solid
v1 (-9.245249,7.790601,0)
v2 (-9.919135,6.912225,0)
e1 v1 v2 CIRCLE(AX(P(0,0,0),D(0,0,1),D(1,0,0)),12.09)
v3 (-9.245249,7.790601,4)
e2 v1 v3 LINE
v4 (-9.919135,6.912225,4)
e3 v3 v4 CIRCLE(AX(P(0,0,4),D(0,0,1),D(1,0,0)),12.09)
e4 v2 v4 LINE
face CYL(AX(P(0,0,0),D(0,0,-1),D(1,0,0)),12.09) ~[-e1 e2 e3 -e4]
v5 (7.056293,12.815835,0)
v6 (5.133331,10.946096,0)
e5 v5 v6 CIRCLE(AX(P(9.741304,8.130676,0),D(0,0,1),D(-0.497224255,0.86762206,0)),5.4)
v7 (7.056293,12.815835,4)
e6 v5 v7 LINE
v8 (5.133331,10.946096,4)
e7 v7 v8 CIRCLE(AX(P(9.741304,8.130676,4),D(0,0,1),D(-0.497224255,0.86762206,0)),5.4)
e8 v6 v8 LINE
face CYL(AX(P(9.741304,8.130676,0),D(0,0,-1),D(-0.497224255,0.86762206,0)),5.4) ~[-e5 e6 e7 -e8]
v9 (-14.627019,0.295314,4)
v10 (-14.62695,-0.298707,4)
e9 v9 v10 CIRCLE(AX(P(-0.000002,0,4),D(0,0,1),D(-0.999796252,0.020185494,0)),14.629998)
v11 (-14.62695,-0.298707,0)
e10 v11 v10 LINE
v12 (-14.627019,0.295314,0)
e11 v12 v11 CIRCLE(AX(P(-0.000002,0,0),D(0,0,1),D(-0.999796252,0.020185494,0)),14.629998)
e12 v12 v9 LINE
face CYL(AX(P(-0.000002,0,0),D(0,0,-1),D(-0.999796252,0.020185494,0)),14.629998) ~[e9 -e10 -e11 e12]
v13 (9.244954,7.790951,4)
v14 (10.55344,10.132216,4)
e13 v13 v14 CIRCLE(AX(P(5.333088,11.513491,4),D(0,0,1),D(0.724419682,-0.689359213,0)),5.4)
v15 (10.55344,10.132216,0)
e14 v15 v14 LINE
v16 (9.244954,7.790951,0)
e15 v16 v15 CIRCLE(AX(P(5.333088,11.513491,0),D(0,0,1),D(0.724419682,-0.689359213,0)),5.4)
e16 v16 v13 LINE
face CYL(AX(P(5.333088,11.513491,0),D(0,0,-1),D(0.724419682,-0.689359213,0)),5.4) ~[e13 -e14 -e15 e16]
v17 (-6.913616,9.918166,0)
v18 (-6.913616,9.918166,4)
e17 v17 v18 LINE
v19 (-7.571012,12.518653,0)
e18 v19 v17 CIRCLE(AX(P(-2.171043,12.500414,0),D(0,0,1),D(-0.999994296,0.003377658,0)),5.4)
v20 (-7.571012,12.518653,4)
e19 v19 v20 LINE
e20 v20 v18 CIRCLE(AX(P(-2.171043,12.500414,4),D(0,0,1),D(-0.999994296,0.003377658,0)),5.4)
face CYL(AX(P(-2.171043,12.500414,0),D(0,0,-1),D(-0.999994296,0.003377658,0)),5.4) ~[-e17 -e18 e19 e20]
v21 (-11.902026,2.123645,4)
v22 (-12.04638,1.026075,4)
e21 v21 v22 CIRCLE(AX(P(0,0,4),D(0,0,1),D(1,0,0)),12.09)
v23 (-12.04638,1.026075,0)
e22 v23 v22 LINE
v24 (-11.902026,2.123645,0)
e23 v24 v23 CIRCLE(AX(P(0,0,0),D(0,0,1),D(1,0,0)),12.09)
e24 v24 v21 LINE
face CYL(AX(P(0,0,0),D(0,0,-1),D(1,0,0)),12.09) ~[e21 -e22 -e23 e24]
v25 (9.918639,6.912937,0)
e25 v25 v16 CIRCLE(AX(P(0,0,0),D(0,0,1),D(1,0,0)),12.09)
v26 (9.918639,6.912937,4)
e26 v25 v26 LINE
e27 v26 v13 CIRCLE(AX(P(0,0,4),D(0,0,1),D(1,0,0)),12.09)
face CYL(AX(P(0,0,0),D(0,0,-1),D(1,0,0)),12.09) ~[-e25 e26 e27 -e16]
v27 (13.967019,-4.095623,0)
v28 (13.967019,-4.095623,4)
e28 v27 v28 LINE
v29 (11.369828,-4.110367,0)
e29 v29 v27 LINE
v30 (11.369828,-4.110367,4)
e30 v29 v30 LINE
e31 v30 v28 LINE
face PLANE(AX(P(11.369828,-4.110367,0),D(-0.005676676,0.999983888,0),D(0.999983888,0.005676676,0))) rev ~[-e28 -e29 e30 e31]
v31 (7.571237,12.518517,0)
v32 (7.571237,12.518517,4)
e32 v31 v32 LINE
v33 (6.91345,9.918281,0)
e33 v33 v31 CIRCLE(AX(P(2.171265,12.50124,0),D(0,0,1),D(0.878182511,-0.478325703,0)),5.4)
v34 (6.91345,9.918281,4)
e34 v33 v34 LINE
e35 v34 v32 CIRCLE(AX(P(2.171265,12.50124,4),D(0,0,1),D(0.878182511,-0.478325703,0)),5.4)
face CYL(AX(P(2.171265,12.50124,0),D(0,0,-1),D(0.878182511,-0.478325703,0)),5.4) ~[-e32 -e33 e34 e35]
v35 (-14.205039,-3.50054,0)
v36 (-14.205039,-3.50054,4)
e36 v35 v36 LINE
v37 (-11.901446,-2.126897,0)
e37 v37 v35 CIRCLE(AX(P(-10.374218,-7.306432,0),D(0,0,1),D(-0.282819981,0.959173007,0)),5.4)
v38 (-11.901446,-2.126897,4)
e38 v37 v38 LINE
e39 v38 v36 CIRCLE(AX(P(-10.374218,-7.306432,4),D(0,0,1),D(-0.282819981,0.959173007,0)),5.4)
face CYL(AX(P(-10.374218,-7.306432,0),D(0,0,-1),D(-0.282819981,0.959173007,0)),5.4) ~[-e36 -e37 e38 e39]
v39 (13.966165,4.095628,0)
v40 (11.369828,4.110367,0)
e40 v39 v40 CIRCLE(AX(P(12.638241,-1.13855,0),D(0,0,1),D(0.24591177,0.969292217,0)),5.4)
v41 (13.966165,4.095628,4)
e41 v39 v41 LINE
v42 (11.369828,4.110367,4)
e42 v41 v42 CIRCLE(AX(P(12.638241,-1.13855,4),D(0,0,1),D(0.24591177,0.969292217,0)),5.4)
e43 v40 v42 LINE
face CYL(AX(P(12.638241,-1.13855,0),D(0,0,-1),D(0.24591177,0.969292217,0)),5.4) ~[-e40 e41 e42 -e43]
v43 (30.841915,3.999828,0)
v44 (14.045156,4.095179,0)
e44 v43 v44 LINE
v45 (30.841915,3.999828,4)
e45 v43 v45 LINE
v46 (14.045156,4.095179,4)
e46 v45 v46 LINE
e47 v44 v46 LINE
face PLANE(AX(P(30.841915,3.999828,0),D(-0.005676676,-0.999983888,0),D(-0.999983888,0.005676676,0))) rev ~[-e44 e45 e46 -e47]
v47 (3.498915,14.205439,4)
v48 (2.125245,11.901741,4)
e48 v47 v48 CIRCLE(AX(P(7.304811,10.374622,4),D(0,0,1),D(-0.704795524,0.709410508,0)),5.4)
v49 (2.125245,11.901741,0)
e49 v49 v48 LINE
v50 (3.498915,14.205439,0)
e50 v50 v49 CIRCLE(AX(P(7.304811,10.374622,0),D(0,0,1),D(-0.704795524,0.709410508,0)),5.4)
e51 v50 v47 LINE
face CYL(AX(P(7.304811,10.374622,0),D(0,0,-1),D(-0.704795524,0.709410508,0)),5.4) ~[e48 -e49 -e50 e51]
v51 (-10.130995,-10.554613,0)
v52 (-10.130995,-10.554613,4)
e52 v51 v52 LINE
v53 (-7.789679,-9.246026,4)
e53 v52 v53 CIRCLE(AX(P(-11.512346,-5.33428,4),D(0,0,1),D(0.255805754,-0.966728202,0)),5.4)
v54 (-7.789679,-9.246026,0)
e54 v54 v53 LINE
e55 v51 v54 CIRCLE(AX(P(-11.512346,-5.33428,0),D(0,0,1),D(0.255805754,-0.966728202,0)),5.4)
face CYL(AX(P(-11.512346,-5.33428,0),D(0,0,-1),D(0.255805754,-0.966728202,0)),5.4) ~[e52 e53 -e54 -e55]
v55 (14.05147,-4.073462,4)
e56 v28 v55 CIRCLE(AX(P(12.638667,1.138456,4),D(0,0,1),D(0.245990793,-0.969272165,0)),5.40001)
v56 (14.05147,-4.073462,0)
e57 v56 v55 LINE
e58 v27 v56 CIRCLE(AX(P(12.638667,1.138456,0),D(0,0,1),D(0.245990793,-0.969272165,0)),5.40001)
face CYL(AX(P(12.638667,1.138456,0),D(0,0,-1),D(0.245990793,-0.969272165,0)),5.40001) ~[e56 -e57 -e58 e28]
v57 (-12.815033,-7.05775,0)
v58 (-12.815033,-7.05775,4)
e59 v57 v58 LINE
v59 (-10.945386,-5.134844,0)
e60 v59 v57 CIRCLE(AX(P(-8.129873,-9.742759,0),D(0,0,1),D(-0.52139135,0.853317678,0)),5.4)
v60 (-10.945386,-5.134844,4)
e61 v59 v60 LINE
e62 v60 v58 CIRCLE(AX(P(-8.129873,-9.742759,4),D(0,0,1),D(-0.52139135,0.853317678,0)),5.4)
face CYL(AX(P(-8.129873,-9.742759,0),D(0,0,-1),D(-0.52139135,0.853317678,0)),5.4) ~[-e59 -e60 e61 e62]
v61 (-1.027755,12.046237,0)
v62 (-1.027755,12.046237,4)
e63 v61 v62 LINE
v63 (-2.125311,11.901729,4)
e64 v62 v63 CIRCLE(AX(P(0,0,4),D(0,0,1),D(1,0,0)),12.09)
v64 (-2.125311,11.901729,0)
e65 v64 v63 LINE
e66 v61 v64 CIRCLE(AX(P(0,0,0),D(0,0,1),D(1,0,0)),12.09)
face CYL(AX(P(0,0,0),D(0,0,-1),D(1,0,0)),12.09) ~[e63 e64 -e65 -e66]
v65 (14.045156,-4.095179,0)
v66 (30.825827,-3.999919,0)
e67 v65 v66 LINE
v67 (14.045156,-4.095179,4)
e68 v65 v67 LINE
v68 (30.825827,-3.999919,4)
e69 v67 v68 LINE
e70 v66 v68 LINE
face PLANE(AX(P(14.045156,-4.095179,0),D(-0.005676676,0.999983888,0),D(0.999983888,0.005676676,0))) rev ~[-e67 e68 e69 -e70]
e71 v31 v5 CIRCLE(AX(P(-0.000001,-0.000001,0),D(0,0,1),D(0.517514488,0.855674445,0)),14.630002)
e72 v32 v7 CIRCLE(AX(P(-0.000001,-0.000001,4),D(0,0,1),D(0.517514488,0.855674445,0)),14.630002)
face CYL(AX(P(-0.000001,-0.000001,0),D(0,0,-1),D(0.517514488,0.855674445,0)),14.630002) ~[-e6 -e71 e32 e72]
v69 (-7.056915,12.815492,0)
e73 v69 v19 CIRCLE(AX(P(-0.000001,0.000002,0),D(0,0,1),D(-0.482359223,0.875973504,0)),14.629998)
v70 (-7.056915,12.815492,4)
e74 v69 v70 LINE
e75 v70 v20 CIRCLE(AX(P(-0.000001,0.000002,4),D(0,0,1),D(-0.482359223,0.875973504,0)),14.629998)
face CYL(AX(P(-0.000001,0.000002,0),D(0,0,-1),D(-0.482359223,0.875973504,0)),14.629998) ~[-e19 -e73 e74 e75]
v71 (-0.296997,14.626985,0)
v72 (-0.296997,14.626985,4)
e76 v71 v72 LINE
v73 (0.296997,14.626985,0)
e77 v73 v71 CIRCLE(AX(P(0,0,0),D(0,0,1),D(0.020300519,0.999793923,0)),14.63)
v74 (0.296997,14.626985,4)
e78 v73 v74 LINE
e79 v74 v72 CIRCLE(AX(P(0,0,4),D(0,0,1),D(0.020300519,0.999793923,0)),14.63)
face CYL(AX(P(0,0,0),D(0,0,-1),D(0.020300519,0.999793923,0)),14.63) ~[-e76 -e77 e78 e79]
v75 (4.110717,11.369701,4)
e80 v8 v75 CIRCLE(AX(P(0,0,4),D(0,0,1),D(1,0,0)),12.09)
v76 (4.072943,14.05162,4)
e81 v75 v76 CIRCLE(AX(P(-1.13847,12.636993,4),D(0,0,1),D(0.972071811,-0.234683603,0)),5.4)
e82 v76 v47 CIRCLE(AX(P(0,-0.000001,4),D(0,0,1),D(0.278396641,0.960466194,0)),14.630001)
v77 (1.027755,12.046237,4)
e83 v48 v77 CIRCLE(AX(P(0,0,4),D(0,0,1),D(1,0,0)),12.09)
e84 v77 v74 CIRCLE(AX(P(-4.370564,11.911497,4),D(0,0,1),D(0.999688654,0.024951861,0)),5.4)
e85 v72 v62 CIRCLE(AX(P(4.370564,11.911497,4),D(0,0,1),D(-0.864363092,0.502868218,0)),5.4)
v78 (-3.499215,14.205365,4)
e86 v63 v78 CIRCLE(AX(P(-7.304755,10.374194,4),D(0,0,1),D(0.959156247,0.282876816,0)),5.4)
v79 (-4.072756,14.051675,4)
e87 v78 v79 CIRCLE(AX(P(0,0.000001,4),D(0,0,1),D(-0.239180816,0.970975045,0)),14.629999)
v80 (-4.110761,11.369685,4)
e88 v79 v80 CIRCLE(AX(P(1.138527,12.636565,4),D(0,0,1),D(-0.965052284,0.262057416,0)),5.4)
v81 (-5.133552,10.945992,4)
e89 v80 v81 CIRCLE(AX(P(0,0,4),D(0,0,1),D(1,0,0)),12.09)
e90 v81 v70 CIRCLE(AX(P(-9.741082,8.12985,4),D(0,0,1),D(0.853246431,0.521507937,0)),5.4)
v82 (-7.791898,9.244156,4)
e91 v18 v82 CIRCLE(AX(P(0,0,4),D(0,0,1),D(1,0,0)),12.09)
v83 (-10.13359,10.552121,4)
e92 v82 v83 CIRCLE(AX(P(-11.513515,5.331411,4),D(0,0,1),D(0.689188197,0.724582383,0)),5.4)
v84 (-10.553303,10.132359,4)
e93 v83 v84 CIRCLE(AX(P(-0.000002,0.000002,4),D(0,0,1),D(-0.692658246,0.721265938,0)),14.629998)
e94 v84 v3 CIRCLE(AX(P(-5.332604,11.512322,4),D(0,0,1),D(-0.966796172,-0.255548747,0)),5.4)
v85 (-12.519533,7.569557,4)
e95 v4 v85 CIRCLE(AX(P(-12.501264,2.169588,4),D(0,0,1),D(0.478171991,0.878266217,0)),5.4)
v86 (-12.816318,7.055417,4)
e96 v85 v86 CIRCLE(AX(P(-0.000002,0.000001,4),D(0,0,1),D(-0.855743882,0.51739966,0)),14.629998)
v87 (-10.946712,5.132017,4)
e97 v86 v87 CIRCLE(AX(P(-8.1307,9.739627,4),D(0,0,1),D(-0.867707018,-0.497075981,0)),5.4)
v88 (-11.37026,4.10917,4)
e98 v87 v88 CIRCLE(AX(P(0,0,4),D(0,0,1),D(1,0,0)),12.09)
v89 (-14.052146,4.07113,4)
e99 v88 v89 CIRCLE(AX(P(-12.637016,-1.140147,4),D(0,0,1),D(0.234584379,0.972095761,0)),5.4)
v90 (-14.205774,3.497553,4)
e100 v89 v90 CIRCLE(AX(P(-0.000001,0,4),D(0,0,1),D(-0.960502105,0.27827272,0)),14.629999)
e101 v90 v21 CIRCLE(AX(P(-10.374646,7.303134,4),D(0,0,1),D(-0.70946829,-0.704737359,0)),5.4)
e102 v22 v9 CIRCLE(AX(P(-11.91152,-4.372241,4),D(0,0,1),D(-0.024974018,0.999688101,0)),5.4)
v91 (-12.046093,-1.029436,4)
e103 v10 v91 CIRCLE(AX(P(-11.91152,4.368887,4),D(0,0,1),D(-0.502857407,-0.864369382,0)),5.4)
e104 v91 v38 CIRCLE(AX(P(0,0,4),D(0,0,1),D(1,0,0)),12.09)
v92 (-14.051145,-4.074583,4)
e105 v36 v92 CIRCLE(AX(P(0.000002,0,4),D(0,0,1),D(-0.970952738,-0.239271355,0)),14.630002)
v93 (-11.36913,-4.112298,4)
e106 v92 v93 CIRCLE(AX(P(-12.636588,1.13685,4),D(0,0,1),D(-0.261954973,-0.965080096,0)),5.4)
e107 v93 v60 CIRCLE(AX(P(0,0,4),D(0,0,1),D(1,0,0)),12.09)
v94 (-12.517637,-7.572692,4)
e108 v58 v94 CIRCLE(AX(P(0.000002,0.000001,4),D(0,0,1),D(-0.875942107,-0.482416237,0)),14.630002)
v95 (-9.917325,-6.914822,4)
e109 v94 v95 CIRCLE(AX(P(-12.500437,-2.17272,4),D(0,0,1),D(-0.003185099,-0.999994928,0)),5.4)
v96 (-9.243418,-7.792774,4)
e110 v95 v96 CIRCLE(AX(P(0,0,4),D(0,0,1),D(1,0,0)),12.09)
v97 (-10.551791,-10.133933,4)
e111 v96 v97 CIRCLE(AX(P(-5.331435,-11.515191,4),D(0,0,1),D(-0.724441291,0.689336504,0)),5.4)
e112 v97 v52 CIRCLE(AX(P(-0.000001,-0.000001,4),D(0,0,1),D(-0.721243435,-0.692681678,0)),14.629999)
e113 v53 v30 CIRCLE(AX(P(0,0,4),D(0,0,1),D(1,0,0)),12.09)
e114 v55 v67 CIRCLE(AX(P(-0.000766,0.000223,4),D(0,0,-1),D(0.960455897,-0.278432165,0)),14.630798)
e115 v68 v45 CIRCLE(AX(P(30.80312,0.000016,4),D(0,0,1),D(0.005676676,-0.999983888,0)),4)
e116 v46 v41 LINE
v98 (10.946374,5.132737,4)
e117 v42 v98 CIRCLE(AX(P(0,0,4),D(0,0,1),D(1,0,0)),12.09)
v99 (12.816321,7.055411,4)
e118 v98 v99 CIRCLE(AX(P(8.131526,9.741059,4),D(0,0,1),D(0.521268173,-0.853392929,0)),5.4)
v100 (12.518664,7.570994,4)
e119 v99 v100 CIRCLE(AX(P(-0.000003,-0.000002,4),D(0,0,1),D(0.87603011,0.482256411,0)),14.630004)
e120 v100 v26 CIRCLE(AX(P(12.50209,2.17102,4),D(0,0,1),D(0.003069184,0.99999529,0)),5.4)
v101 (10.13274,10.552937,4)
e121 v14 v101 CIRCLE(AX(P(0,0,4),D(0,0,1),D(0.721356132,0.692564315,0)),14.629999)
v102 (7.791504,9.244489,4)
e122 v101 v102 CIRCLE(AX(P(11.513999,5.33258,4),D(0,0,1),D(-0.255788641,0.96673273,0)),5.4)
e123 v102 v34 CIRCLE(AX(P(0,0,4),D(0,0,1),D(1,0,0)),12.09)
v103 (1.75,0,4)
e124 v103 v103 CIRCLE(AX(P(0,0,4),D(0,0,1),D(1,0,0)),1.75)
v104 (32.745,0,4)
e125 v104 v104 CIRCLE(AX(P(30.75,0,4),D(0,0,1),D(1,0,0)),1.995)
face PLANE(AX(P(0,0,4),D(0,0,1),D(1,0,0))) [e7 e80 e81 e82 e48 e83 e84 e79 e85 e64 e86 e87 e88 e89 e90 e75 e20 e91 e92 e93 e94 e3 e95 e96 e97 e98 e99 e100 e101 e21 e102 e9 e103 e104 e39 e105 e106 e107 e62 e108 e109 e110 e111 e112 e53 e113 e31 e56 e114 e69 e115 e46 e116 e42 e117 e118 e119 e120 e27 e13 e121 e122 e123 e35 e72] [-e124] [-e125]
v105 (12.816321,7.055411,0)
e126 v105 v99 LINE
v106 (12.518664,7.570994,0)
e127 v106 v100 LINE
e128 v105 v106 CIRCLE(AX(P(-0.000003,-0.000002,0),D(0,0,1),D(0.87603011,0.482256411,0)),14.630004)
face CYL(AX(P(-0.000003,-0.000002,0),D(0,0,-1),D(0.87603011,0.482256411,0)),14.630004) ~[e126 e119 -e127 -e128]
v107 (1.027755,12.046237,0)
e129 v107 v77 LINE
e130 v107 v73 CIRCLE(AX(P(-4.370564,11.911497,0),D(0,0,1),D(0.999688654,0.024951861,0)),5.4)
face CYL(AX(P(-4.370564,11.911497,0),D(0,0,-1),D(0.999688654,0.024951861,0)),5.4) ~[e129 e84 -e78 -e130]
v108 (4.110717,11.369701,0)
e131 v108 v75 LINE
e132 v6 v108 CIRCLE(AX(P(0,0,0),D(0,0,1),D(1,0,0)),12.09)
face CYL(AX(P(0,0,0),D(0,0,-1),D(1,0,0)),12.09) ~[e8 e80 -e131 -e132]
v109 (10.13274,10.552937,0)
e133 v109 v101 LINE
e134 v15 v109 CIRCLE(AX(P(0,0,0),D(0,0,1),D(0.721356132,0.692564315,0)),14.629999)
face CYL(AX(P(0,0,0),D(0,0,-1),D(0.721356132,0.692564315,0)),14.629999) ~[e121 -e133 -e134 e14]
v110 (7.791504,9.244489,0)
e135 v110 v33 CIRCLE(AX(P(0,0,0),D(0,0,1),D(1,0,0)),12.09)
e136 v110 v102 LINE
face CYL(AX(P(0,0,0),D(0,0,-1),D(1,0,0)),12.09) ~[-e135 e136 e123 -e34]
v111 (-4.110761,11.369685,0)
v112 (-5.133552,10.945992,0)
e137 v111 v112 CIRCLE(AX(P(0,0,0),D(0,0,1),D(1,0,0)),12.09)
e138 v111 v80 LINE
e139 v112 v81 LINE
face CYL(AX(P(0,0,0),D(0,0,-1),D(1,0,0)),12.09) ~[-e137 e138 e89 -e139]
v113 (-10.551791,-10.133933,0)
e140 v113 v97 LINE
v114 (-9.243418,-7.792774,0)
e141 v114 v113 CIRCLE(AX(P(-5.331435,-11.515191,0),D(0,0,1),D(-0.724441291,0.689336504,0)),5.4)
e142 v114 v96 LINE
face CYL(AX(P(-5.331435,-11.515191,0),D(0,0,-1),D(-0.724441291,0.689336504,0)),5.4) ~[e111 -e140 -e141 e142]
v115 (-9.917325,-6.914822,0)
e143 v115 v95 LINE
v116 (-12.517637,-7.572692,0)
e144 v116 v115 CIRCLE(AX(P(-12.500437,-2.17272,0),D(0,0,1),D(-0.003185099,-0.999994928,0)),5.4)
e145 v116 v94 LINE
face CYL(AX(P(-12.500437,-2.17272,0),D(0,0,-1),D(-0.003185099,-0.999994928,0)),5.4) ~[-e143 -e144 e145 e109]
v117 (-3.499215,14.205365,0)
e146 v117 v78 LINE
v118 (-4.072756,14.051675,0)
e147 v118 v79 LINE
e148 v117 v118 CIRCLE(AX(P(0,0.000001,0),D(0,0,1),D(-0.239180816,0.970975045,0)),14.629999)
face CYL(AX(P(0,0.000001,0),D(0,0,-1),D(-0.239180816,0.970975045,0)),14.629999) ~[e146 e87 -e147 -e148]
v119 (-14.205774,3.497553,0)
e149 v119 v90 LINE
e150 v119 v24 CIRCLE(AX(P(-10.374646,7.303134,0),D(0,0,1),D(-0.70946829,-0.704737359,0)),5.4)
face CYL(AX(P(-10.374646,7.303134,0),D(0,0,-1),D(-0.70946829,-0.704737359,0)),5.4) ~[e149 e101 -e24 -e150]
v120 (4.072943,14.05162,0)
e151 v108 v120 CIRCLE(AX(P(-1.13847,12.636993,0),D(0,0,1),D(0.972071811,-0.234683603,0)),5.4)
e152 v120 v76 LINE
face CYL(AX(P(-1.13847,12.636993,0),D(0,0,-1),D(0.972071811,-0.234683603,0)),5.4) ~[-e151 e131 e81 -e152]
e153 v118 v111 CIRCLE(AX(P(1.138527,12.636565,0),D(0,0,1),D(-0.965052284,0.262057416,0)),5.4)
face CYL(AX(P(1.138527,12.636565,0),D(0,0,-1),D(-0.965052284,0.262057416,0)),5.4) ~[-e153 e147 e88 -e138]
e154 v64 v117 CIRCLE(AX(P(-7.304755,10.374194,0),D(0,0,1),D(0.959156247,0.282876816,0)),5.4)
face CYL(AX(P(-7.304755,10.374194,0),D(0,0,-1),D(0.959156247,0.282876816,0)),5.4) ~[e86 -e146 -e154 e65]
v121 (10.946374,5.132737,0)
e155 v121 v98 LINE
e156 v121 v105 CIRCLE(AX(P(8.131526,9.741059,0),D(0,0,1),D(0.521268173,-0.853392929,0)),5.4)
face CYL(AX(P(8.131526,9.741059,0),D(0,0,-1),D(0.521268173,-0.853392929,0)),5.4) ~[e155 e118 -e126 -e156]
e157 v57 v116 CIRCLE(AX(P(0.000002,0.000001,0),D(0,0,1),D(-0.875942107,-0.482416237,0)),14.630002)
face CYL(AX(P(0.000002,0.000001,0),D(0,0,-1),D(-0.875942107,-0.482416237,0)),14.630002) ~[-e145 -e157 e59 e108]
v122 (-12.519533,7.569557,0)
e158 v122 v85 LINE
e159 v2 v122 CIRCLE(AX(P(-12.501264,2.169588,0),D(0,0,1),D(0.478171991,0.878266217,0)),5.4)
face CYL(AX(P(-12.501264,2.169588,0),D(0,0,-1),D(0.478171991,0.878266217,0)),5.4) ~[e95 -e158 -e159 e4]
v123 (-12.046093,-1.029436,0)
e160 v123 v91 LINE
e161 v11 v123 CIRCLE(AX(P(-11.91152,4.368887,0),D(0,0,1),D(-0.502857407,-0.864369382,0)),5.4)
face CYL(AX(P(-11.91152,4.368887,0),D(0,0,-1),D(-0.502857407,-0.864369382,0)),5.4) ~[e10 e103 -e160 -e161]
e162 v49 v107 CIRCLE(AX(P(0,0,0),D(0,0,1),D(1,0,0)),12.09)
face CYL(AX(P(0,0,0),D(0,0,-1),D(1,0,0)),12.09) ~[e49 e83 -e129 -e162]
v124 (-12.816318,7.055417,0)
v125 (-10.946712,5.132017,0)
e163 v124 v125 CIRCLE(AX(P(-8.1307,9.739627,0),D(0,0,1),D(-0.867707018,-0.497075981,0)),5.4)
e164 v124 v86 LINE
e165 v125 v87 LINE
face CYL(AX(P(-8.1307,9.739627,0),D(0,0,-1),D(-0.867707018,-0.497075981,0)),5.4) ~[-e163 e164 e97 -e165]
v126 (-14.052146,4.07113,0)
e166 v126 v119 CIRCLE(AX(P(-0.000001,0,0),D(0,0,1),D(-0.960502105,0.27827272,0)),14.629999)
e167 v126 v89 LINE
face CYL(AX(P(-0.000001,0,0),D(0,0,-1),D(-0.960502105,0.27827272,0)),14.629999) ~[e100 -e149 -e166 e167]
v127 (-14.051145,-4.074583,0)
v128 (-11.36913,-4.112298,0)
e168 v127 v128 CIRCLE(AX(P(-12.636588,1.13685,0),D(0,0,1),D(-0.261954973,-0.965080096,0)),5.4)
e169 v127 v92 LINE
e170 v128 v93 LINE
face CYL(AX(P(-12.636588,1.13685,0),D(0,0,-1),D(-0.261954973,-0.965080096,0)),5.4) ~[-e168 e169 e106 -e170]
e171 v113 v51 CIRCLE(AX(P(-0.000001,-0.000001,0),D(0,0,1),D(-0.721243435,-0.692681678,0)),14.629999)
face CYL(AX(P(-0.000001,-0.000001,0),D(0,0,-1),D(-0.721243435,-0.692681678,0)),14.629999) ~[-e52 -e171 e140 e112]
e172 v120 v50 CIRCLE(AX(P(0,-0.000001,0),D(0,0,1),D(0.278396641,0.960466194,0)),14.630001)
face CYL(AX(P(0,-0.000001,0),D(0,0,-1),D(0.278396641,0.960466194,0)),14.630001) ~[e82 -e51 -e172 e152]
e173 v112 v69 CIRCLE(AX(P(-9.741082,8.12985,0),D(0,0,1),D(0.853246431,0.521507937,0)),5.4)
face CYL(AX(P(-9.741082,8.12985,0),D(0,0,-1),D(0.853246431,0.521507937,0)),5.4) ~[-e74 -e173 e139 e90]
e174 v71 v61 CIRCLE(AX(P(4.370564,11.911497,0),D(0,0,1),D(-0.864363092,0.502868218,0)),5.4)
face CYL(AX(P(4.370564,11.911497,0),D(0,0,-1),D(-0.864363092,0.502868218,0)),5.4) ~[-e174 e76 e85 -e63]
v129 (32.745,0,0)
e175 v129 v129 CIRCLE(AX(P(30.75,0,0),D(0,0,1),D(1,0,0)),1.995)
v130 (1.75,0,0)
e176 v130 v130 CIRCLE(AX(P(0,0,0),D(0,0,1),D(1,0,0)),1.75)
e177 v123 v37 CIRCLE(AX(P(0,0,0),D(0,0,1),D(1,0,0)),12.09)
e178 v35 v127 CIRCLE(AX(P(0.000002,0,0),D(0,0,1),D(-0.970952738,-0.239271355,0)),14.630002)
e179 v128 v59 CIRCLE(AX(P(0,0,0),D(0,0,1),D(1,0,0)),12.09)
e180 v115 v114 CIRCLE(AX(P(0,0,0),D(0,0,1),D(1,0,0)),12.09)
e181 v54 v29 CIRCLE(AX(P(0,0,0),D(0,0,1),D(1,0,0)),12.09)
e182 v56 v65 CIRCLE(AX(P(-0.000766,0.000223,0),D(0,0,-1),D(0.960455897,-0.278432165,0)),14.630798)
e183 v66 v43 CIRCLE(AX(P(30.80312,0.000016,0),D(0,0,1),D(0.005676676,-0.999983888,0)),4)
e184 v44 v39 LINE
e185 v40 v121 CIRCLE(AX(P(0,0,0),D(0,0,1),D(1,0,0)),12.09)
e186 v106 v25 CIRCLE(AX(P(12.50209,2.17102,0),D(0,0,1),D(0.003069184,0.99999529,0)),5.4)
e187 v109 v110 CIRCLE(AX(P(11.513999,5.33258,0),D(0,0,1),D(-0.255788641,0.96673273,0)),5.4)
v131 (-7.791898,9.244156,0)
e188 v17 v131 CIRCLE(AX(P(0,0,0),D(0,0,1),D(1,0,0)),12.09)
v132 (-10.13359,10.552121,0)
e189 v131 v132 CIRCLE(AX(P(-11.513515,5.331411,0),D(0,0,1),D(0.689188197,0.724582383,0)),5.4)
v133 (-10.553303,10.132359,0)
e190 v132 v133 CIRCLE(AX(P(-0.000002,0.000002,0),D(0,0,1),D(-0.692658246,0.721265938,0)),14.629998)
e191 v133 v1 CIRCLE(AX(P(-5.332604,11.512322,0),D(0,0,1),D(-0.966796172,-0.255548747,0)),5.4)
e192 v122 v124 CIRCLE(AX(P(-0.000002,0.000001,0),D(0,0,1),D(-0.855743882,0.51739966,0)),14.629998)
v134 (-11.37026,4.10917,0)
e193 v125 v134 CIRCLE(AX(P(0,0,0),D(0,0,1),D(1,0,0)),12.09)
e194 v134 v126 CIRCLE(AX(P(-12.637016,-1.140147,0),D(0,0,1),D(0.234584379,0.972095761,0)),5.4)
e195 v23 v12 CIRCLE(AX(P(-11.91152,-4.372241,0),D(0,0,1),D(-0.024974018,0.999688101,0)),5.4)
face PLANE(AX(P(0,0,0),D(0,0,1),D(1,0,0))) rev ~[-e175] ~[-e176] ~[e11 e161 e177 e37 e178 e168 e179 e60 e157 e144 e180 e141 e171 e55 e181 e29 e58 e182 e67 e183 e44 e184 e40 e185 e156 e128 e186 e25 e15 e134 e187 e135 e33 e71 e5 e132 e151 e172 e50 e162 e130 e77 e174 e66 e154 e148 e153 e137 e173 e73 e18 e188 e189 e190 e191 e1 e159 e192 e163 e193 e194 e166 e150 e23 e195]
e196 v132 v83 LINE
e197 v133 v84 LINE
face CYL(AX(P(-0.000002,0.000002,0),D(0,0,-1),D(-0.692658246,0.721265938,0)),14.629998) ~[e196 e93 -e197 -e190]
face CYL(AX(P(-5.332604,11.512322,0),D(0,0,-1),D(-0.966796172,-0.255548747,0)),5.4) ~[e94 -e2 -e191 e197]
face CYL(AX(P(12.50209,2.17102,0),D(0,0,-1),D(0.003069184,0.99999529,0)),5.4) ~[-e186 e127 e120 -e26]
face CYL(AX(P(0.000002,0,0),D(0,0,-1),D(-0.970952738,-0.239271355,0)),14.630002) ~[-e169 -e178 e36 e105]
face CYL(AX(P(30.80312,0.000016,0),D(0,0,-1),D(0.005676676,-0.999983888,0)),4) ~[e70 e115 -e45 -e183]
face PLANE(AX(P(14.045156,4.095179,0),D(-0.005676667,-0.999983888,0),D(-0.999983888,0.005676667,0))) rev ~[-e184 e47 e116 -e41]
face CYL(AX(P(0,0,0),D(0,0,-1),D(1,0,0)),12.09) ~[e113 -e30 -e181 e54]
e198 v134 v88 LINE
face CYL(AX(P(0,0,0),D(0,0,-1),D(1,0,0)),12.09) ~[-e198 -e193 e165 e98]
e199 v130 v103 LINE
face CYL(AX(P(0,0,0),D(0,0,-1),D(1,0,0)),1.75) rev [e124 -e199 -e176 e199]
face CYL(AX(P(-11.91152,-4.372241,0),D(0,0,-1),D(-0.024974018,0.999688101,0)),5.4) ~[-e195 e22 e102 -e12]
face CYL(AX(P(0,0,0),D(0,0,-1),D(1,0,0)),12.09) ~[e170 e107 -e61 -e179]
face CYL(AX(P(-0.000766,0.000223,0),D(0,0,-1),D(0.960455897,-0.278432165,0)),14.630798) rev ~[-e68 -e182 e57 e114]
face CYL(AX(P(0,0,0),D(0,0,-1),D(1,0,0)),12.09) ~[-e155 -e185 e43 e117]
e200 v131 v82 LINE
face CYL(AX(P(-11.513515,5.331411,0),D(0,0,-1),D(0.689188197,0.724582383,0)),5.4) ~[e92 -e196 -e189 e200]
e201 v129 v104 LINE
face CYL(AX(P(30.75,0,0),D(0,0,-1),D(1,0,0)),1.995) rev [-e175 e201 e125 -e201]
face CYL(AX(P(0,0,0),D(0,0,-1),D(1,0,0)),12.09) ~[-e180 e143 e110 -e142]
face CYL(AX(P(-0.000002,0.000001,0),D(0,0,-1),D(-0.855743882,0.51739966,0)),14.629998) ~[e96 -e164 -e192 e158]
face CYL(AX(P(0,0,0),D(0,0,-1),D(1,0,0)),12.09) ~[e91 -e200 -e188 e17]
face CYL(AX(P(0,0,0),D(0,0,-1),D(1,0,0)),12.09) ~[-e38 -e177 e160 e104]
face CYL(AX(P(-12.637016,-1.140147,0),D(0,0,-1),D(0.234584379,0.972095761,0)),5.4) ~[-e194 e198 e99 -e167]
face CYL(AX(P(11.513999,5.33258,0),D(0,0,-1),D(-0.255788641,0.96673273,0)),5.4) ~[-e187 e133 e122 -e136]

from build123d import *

# Parameters (mm, degrees)
SKETCH1_R           = 12.09
SKETCH1_R_2         = 1.75
SKETCH1_R_3         = 1.995
BOSS_EXTRUDE1_DEPTH = 4


with BuildPart() as part:
    # Sketch1 → Boss-Extrude1 (new body)
    # profile 1 of 22: a face of its own
    with BuildSketch(Plane.XY):
        Circle(SKETCH1_R)
        Circle(SKETCH1_R_2, mode=Mode.SUBTRACT)
    # profile 2 of 22: a face of its own
    with BuildSketch(Plane.XY):
        with BuildLine():
            ThreePointArc((14.051469909, -4.073462091), (14.048317136, -4.084321933), (14.04515597, -4.095179336))
            Line((14.04515597, -4.095179336), (30.82582707, -3.999919373))
            ThreePointArc((30.82582707, -3.999919373), (34.803112279, -0.008027822), (30.841914591, 3.999828048))
            Line((30.841914591, 3.999828048), (14.04515597, 4.095179336))
            ThreePointArc((14.04515597, 4.095179336), (14.128586435, 3.797360314), (14.205702589, 3.497844187))
            ThreePointArc((14.205702589, 3.497844187), (14.50484412, 1.909554151), (14.626965513, 0.297959519))
            ThreePointArc((14.626965513, 0.297959519), (14.629241359, 0.148987485), (14.63, 0))
            ThreePointArc((14.63, 0), (14.629241116, -0.149011314), (14.626964543, -0.298007168))
            ThreePointArc((14.626964543, -0.298007168), (14.504858624, -1.909443973), (14.20576712, -3.497582099))
            ThreePointArc((14.20576712, -3.497582099), (14.131552306, -3.786308154), (14.051469909, -4.073462091))
        make_face()
        with Locations((30.75, 0)):
            Circle(SKETCH1_R_3, mode=Mode.SUBTRACT)
    # profile 3 of 22: a face of its own
    with BuildSketch(Plane.XY):
        with BuildLine():
            ThreePointArc((14.205702589, 3.497844187), (14.128586435, 3.797360314), (14.04515597, 4.095179336))
            Line((14.04515597, 4.095179336), (13.966164937, 4.095627749))
            Line((13.966164937, 4.095627749), (11.369827915, 4.11036655))
            ThreePointArc((11.369827915, 4.11036655), (11.678097516, 3.128919686), (11.901816808, 2.124819208))
            ThreePointArc((11.901816808, 2.124819208), (13.1403578, 2.666023245), (14.205702589, 3.497844187))
        make_face()
    # profile 4 of 22: a face of its own
    with BuildSketch(Plane.XY):
        with BuildLine():
            ThreePointArc((-12.517636695, -7.572692492), (-11.175984377, -7.407777173), (-9.917325106, -6.914821961))
            ThreePointArc((-9.917325106, -6.914821961), (-10.469253219, -6.046721181), (-10.945386333, -5.134843524))
            ThreePointArc((-10.945386333, -5.134843524), (-12.001489862, -5.978375477), (-12.815033037, -7.057749518))
            ThreePointArc((-12.815033037, -7.057749518), (-12.668951436, -7.31673216), (-12.517636695, -7.572692492))
        make_face()
    # profile 5 of 22: a face of its own
    with BuildSketch(Plane.XY):
        with BuildLine():
            ThreePointArc((-14.051145033, -4.074582586), (-12.712516328, -4.262616236), (-11.369129658, -4.112297512))
            ThreePointArc((-11.369129658, -4.112297512), (-11.677558471, -3.130930876), (-11.901445615, -2.126897335))
            ThreePointArc((-11.901445615, -2.126897335), (-13.139881298, -2.668425004), (-14.205038564, -3.500539874))
            ThreePointArc((-14.205038564, -3.500539874), (-14.13100701, -3.788342761), (-14.051145033, -4.074582586))
        make_face()
    # profile 6 of 22: a face of its own
    with BuildSketch(Plane.XY):
        with BuildLine():
            ThreePointArc((-14.626950262, -0.298707293), (-13.382615157, -0.826868574), (-12.046093246, -1.029435529))
            ThreePointArc((-12.046093246, -1.029435529), (-12.089999882, -0.001686428), (-12.046379968, 1.026074882))
            ThreePointArc((-12.046379968, 1.026074882), (-13.382791491, 0.823465153), (-14.62701917, 0.295313712))
            ThreePointArc((-14.62701917, 0.295313712), (-14.629999902, -0.00169714), (-14.626950262, -0.298707293))
        make_face()
    # profile 7 of 22: a face of its own
    with BuildSketch(Plane.XY):
        with BuildLine():
            ThreePointArc((-14.205774364, 3.497552675), (-13.140565234, 2.66528054), (-11.902026335, 2.123645243))
            ThreePointArc((-11.902026335, 2.123645243), (-11.678416405, 3.127729251), (-11.370260409, 4.109170017))
            ThreePointArc((-11.370260409, 4.109170017), (-12.71360248, 4.259309779), (-14.052145793, 4.071129894))
            ThreePointArc((-14.052145793, 4.071129894), (-14.131870386, 3.78512079), (-14.205774364, 3.497552675))
        make_face()
    # profile 8 of 22: a face of its own
    with BuildSketch(Plane.XY):
        with BuildLine():
            ThreePointArc((-9.919135011, 6.912225448), (-11.177872267, 7.404913556), (-12.519533027, 7.569556974))
            ThreePointArc((-12.519533027, 7.569556974), (-12.670533379, 7.313992337), (-12.816317544, 7.055416686))
            ThreePointArc((-12.816317544, 7.055416686), (-12.00284137, 5.975783406), (-10.94671211, 5.132016561))
            ThreePointArc((-10.94671211, 5.132016561), (-10.470825179, 6.043998682), (-9.919135011, 6.912225448))
        make_face()
    # profile 9 of 22: a face of its own
    with BuildSketch(Plane.XY):
        with BuildLine():
            ThreePointArc((-7.791898403, 9.244155952), (-8.880242473, 10.045843984), (-10.13359017, 10.552120653))
            ThreePointArc((-10.13359017, 10.552120653), (-10.345575707, 10.344368676), (-10.553302948, 10.1323589))
            ThreePointArc((-10.553302948, 10.1323589), (-10.04699158, 8.878969486), (-9.245249077, 7.790601357))
            ThreePointArc((-9.245249077, 7.790601357), (-8.549520677, 8.54832125), (-7.791898403, 9.244155952))
        make_face()
    # profile 10 of 22: a face of its own
    with BuildSketch(Plane.XY):
        with BuildLine():
            ThreePointArc((-5.133551517, 10.945992364), (-5.977311447, 12.002061971), (-7.05691548, 12.815492339))
            ThreePointArc((-7.05691548, 12.815492339), (-7.315469666, 12.669680484), (-7.571012334, 12.518652972))
            ThreePointArc((-7.571012334, 12.518652972), (-7.40634855, 11.176941958), (-6.913615931, 9.918165897))
            ThreePointArc((-6.913615931, 9.918165897), (-6.045466706, 10.469977665), (-5.133551517, 10.945992364))
        make_face()
    # profile 11 of 22: a face of its own
    with BuildSketch(Plane.XY):
        with BuildLine():
            ThreePointArc((-2.125311093, 11.901728982), (-2.666957342, 13.14020836), (-3.499215334, 14.205364904))
            ThreePointArc((-3.499215334, 14.205364904), (-3.786765286, 14.131429817), (-4.072755654, 14.051674682))
            ThreePointArc((-4.072755654, 14.051674682), (-4.260931239, 12.713077321), (-4.110760617, 11.369685446))
            ThreePointArc((-4.110760617, 11.369685446), (-3.129363382, 11.677978627), (-2.125311093, 11.901728982))
        make_face()
    # profile 12 of 22: a face of its own
    with BuildSketch(Plane.XY):
        with BuildLine():
            ThreePointArc((1.027754616, 12.046236775), (0.825159863, 13.382704508), (0.296996585, 14.626985097))
            ThreePointArc((0.296996585, 14.626985097), (0, 14.63), (-0.296996585, 14.626985097))
            ThreePointArc((-0.296996585, 14.626985097), (-0.825159863, 13.382704508), (-1.027754616, 12.046236775))
            ThreePointArc((-1.027754616, 12.046236775), (0, 12.09), (1.027754616, 12.046236775))
        make_face()
    # profile 13 of 22: a face of its own
    with BuildSketch(Plane.XY):
        with BuildLine():
            ThreePointArc((4.110717434, 11.369701059), (4.260994095, 12.713043392), (4.072942889, 14.051620413))
            ThreePointArc((4.072942889, 14.051620413), (3.786710214, 14.131444574), (3.498915331, 14.2054388))
            ThreePointArc((3.498915331, 14.2054388), (2.666773966, 13.14023428), (2.125244746, 11.901740829))
            ThreePointArc((2.125244746, 11.901740829), (3.129308654, 11.677993293), (4.110717434, 11.369701059))
        make_face()
    # profile 14 of 22: a face of its own
    with BuildSketch(Plane.XY):
        with BuildLine():
            ThreePointArc((6.913450185, 9.91828143), (7.406352802, 11.176909529), (7.571236986, 12.518517105))
            ThreePointArc((7.571236986, 12.518517105), (7.315275528, 12.669792577), (7.056292749, 12.81583523))
            ThreePointArc((7.056292749, 12.81583523), (5.976880257, 12.002254067), (5.133331053, 10.946095756))
            ThreePointArc((5.133331053, 10.946095756), (6.045273784, 10.470089058), (6.913450185, 9.91828143))
        make_face()
    # profile 15 of 22: a face of its own
    with BuildSketch(Plane.XY):
        with BuildLine():
            ThreePointArc((9.244954117, 7.790951378), (10.046869152, 8.879052728), (10.553440202, 10.132215942))
            ThreePointArc((10.553440202, 10.132215942), (10.345229175, 10.344715236), (10.132740224, 10.552936821))
            ThreePointArc((10.132740224, 10.552936821), (8.879594749, 10.046380548), (7.791503622, 9.244488699))
            ThreePointArc((7.791503622, 9.244488699), (8.549176321, 8.548665641), (9.244954117, 7.790951378))
        make_face()
    # profile 16 of 22: a face of its own
    with BuildSketch(Plane.XY):
        with BuildLine():
            ThreePointArc((10.946374382, 5.132736881), (12.002615026, 5.976132183), (12.81632055, 7.055411226))
            ThreePointArc((12.81632055, 7.055411226), (12.670115094, 7.314716911), (12.518663963, 7.570994161))
            ThreePointArc((12.518663963, 7.570994161), (11.17714698, 7.405952739), (9.918639175, 6.912936924))
            ThreePointArc((9.918639175, 6.912936924), (10.47040953, 6.044718709), (10.946374382, 5.132736881))
        make_face()
    # profile 17 of 22: a face of its own
    with BuildSketch(Plane.XY):
        with BuildLine():
            ThreePointArc((12.046231207, -1.027819886), (11.986581537, -1.577961676), (11.901820644, -2.124797724))
            ThreePointArc((11.901820644, -2.124797724), (13.140374441, -2.665881604), (14.20576712, -3.497582099))
            ThreePointArc((14.20576712, -3.497582099), (14.504858624, -1.909443973), (14.626964543, -0.298007168))
            ThreePointArc((14.626964543, -0.298007168), (13.382627003, -0.825679814), (12.046231207, -1.027819886))
        make_face()
    # profile 18 of 22: a face of its own
    with BuildSketch(Plane.XY):
        with BuildLine():
            ThreePointArc((11.901820644, -2.124797724), (11.67810034, -3.128909147), (11.369827915, -4.11036655))
            Line((11.369827915, -4.11036655), (13.967019497, -4.095622898))
            ThreePointArc((13.967019497, -4.095622898), (14.009289492, -4.084713176), (14.051469909, -4.073462091))
            ThreePointArc((14.051469909, -4.073462091), (14.131552306, -3.786308154), (14.20576712, -3.497582099))
            ThreePointArc((14.20576712, -3.497582099), (13.140374441, -2.665881604), (11.901820644, -2.124797724))
        make_face()
    # profile 19 of 22: a face of its own
    with BuildSketch(Plane.XY):
        with BuildLine():
            ThreePointArc((12.09, 0), (12.079052845, -0.514375696), (12.046231207, -1.027819886))
            ThreePointArc((12.046231207, -1.027819886), (13.382627003, -0.825679814), (14.626964543, -0.298007168))
            ThreePointArc((14.626964543, -0.298007168), (14.629241116, -0.149011314), (14.63, 0))
            ThreePointArc((14.63, 0), (14.629241359, 0.148987485), (14.626965513, 0.297959519))
            ThreePointArc((14.626965513, 0.297959519), (13.382629481, 0.825632028), (12.046235232, 1.027772701))
            ThreePointArc((12.046235232, 1.027772701), (12.079053853, 0.514352039), (12.09, 0))
        make_face()
    # profile 20 of 22: a face of its own
    with BuildSketch(Plane.XY):
        with BuildLine():
            ThreePointArc((11.901816808, 2.124819208), (11.986583203, 1.577949019), (12.046235232, 1.027772701))
            ThreePointArc((12.046235232, 1.027772701), (13.382629481, 0.825632028), (14.626965513, 0.297959519))
            ThreePointArc((14.626965513, 0.297959519), (14.50484412, 1.909554151), (14.205702589, 3.497844187))
            ThreePointArc((14.205702589, 3.497844187), (13.1403578, 2.666023245), (11.901816808, 2.124819208))
        make_face()
    # profile 21 of 22: a face of its own
    with BuildSketch(Plane.XY):
        with BuildLine():
            Line((11.369827915, 4.11036655), (13.966164937, 4.095627749))
            ThreePointArc((13.966164937, 4.095627749), (12.668895431, 4.261362771), (11.369827915, 4.11036655))
        make_face()
    # profile 22 of 22: a face of its own
    with BuildSketch(Plane.XY):
        with BuildLine():
            ThreePointArc((-10.130994605, -10.554612656), (-8.877796666, -10.047999865), (-7.789679206, -9.246026058))
            ThreePointArc((-7.789679206, -9.246026058), (-8.547489799, -8.550351931), (-9.243417598, -7.792774288))
            ThreePointArc((-9.243417598, -7.792774288), (-10.045261463, -8.880834456), (-10.55179143, -10.133932978))
            ThreePointArc((-10.55179143, -10.133932978), (-10.343531911, -10.346412306), (-10.130994605, -10.554612656))
        make_face()
    extrude(amount=BOSS_EXTRUDE1_DEPTH)


solid = part.part
